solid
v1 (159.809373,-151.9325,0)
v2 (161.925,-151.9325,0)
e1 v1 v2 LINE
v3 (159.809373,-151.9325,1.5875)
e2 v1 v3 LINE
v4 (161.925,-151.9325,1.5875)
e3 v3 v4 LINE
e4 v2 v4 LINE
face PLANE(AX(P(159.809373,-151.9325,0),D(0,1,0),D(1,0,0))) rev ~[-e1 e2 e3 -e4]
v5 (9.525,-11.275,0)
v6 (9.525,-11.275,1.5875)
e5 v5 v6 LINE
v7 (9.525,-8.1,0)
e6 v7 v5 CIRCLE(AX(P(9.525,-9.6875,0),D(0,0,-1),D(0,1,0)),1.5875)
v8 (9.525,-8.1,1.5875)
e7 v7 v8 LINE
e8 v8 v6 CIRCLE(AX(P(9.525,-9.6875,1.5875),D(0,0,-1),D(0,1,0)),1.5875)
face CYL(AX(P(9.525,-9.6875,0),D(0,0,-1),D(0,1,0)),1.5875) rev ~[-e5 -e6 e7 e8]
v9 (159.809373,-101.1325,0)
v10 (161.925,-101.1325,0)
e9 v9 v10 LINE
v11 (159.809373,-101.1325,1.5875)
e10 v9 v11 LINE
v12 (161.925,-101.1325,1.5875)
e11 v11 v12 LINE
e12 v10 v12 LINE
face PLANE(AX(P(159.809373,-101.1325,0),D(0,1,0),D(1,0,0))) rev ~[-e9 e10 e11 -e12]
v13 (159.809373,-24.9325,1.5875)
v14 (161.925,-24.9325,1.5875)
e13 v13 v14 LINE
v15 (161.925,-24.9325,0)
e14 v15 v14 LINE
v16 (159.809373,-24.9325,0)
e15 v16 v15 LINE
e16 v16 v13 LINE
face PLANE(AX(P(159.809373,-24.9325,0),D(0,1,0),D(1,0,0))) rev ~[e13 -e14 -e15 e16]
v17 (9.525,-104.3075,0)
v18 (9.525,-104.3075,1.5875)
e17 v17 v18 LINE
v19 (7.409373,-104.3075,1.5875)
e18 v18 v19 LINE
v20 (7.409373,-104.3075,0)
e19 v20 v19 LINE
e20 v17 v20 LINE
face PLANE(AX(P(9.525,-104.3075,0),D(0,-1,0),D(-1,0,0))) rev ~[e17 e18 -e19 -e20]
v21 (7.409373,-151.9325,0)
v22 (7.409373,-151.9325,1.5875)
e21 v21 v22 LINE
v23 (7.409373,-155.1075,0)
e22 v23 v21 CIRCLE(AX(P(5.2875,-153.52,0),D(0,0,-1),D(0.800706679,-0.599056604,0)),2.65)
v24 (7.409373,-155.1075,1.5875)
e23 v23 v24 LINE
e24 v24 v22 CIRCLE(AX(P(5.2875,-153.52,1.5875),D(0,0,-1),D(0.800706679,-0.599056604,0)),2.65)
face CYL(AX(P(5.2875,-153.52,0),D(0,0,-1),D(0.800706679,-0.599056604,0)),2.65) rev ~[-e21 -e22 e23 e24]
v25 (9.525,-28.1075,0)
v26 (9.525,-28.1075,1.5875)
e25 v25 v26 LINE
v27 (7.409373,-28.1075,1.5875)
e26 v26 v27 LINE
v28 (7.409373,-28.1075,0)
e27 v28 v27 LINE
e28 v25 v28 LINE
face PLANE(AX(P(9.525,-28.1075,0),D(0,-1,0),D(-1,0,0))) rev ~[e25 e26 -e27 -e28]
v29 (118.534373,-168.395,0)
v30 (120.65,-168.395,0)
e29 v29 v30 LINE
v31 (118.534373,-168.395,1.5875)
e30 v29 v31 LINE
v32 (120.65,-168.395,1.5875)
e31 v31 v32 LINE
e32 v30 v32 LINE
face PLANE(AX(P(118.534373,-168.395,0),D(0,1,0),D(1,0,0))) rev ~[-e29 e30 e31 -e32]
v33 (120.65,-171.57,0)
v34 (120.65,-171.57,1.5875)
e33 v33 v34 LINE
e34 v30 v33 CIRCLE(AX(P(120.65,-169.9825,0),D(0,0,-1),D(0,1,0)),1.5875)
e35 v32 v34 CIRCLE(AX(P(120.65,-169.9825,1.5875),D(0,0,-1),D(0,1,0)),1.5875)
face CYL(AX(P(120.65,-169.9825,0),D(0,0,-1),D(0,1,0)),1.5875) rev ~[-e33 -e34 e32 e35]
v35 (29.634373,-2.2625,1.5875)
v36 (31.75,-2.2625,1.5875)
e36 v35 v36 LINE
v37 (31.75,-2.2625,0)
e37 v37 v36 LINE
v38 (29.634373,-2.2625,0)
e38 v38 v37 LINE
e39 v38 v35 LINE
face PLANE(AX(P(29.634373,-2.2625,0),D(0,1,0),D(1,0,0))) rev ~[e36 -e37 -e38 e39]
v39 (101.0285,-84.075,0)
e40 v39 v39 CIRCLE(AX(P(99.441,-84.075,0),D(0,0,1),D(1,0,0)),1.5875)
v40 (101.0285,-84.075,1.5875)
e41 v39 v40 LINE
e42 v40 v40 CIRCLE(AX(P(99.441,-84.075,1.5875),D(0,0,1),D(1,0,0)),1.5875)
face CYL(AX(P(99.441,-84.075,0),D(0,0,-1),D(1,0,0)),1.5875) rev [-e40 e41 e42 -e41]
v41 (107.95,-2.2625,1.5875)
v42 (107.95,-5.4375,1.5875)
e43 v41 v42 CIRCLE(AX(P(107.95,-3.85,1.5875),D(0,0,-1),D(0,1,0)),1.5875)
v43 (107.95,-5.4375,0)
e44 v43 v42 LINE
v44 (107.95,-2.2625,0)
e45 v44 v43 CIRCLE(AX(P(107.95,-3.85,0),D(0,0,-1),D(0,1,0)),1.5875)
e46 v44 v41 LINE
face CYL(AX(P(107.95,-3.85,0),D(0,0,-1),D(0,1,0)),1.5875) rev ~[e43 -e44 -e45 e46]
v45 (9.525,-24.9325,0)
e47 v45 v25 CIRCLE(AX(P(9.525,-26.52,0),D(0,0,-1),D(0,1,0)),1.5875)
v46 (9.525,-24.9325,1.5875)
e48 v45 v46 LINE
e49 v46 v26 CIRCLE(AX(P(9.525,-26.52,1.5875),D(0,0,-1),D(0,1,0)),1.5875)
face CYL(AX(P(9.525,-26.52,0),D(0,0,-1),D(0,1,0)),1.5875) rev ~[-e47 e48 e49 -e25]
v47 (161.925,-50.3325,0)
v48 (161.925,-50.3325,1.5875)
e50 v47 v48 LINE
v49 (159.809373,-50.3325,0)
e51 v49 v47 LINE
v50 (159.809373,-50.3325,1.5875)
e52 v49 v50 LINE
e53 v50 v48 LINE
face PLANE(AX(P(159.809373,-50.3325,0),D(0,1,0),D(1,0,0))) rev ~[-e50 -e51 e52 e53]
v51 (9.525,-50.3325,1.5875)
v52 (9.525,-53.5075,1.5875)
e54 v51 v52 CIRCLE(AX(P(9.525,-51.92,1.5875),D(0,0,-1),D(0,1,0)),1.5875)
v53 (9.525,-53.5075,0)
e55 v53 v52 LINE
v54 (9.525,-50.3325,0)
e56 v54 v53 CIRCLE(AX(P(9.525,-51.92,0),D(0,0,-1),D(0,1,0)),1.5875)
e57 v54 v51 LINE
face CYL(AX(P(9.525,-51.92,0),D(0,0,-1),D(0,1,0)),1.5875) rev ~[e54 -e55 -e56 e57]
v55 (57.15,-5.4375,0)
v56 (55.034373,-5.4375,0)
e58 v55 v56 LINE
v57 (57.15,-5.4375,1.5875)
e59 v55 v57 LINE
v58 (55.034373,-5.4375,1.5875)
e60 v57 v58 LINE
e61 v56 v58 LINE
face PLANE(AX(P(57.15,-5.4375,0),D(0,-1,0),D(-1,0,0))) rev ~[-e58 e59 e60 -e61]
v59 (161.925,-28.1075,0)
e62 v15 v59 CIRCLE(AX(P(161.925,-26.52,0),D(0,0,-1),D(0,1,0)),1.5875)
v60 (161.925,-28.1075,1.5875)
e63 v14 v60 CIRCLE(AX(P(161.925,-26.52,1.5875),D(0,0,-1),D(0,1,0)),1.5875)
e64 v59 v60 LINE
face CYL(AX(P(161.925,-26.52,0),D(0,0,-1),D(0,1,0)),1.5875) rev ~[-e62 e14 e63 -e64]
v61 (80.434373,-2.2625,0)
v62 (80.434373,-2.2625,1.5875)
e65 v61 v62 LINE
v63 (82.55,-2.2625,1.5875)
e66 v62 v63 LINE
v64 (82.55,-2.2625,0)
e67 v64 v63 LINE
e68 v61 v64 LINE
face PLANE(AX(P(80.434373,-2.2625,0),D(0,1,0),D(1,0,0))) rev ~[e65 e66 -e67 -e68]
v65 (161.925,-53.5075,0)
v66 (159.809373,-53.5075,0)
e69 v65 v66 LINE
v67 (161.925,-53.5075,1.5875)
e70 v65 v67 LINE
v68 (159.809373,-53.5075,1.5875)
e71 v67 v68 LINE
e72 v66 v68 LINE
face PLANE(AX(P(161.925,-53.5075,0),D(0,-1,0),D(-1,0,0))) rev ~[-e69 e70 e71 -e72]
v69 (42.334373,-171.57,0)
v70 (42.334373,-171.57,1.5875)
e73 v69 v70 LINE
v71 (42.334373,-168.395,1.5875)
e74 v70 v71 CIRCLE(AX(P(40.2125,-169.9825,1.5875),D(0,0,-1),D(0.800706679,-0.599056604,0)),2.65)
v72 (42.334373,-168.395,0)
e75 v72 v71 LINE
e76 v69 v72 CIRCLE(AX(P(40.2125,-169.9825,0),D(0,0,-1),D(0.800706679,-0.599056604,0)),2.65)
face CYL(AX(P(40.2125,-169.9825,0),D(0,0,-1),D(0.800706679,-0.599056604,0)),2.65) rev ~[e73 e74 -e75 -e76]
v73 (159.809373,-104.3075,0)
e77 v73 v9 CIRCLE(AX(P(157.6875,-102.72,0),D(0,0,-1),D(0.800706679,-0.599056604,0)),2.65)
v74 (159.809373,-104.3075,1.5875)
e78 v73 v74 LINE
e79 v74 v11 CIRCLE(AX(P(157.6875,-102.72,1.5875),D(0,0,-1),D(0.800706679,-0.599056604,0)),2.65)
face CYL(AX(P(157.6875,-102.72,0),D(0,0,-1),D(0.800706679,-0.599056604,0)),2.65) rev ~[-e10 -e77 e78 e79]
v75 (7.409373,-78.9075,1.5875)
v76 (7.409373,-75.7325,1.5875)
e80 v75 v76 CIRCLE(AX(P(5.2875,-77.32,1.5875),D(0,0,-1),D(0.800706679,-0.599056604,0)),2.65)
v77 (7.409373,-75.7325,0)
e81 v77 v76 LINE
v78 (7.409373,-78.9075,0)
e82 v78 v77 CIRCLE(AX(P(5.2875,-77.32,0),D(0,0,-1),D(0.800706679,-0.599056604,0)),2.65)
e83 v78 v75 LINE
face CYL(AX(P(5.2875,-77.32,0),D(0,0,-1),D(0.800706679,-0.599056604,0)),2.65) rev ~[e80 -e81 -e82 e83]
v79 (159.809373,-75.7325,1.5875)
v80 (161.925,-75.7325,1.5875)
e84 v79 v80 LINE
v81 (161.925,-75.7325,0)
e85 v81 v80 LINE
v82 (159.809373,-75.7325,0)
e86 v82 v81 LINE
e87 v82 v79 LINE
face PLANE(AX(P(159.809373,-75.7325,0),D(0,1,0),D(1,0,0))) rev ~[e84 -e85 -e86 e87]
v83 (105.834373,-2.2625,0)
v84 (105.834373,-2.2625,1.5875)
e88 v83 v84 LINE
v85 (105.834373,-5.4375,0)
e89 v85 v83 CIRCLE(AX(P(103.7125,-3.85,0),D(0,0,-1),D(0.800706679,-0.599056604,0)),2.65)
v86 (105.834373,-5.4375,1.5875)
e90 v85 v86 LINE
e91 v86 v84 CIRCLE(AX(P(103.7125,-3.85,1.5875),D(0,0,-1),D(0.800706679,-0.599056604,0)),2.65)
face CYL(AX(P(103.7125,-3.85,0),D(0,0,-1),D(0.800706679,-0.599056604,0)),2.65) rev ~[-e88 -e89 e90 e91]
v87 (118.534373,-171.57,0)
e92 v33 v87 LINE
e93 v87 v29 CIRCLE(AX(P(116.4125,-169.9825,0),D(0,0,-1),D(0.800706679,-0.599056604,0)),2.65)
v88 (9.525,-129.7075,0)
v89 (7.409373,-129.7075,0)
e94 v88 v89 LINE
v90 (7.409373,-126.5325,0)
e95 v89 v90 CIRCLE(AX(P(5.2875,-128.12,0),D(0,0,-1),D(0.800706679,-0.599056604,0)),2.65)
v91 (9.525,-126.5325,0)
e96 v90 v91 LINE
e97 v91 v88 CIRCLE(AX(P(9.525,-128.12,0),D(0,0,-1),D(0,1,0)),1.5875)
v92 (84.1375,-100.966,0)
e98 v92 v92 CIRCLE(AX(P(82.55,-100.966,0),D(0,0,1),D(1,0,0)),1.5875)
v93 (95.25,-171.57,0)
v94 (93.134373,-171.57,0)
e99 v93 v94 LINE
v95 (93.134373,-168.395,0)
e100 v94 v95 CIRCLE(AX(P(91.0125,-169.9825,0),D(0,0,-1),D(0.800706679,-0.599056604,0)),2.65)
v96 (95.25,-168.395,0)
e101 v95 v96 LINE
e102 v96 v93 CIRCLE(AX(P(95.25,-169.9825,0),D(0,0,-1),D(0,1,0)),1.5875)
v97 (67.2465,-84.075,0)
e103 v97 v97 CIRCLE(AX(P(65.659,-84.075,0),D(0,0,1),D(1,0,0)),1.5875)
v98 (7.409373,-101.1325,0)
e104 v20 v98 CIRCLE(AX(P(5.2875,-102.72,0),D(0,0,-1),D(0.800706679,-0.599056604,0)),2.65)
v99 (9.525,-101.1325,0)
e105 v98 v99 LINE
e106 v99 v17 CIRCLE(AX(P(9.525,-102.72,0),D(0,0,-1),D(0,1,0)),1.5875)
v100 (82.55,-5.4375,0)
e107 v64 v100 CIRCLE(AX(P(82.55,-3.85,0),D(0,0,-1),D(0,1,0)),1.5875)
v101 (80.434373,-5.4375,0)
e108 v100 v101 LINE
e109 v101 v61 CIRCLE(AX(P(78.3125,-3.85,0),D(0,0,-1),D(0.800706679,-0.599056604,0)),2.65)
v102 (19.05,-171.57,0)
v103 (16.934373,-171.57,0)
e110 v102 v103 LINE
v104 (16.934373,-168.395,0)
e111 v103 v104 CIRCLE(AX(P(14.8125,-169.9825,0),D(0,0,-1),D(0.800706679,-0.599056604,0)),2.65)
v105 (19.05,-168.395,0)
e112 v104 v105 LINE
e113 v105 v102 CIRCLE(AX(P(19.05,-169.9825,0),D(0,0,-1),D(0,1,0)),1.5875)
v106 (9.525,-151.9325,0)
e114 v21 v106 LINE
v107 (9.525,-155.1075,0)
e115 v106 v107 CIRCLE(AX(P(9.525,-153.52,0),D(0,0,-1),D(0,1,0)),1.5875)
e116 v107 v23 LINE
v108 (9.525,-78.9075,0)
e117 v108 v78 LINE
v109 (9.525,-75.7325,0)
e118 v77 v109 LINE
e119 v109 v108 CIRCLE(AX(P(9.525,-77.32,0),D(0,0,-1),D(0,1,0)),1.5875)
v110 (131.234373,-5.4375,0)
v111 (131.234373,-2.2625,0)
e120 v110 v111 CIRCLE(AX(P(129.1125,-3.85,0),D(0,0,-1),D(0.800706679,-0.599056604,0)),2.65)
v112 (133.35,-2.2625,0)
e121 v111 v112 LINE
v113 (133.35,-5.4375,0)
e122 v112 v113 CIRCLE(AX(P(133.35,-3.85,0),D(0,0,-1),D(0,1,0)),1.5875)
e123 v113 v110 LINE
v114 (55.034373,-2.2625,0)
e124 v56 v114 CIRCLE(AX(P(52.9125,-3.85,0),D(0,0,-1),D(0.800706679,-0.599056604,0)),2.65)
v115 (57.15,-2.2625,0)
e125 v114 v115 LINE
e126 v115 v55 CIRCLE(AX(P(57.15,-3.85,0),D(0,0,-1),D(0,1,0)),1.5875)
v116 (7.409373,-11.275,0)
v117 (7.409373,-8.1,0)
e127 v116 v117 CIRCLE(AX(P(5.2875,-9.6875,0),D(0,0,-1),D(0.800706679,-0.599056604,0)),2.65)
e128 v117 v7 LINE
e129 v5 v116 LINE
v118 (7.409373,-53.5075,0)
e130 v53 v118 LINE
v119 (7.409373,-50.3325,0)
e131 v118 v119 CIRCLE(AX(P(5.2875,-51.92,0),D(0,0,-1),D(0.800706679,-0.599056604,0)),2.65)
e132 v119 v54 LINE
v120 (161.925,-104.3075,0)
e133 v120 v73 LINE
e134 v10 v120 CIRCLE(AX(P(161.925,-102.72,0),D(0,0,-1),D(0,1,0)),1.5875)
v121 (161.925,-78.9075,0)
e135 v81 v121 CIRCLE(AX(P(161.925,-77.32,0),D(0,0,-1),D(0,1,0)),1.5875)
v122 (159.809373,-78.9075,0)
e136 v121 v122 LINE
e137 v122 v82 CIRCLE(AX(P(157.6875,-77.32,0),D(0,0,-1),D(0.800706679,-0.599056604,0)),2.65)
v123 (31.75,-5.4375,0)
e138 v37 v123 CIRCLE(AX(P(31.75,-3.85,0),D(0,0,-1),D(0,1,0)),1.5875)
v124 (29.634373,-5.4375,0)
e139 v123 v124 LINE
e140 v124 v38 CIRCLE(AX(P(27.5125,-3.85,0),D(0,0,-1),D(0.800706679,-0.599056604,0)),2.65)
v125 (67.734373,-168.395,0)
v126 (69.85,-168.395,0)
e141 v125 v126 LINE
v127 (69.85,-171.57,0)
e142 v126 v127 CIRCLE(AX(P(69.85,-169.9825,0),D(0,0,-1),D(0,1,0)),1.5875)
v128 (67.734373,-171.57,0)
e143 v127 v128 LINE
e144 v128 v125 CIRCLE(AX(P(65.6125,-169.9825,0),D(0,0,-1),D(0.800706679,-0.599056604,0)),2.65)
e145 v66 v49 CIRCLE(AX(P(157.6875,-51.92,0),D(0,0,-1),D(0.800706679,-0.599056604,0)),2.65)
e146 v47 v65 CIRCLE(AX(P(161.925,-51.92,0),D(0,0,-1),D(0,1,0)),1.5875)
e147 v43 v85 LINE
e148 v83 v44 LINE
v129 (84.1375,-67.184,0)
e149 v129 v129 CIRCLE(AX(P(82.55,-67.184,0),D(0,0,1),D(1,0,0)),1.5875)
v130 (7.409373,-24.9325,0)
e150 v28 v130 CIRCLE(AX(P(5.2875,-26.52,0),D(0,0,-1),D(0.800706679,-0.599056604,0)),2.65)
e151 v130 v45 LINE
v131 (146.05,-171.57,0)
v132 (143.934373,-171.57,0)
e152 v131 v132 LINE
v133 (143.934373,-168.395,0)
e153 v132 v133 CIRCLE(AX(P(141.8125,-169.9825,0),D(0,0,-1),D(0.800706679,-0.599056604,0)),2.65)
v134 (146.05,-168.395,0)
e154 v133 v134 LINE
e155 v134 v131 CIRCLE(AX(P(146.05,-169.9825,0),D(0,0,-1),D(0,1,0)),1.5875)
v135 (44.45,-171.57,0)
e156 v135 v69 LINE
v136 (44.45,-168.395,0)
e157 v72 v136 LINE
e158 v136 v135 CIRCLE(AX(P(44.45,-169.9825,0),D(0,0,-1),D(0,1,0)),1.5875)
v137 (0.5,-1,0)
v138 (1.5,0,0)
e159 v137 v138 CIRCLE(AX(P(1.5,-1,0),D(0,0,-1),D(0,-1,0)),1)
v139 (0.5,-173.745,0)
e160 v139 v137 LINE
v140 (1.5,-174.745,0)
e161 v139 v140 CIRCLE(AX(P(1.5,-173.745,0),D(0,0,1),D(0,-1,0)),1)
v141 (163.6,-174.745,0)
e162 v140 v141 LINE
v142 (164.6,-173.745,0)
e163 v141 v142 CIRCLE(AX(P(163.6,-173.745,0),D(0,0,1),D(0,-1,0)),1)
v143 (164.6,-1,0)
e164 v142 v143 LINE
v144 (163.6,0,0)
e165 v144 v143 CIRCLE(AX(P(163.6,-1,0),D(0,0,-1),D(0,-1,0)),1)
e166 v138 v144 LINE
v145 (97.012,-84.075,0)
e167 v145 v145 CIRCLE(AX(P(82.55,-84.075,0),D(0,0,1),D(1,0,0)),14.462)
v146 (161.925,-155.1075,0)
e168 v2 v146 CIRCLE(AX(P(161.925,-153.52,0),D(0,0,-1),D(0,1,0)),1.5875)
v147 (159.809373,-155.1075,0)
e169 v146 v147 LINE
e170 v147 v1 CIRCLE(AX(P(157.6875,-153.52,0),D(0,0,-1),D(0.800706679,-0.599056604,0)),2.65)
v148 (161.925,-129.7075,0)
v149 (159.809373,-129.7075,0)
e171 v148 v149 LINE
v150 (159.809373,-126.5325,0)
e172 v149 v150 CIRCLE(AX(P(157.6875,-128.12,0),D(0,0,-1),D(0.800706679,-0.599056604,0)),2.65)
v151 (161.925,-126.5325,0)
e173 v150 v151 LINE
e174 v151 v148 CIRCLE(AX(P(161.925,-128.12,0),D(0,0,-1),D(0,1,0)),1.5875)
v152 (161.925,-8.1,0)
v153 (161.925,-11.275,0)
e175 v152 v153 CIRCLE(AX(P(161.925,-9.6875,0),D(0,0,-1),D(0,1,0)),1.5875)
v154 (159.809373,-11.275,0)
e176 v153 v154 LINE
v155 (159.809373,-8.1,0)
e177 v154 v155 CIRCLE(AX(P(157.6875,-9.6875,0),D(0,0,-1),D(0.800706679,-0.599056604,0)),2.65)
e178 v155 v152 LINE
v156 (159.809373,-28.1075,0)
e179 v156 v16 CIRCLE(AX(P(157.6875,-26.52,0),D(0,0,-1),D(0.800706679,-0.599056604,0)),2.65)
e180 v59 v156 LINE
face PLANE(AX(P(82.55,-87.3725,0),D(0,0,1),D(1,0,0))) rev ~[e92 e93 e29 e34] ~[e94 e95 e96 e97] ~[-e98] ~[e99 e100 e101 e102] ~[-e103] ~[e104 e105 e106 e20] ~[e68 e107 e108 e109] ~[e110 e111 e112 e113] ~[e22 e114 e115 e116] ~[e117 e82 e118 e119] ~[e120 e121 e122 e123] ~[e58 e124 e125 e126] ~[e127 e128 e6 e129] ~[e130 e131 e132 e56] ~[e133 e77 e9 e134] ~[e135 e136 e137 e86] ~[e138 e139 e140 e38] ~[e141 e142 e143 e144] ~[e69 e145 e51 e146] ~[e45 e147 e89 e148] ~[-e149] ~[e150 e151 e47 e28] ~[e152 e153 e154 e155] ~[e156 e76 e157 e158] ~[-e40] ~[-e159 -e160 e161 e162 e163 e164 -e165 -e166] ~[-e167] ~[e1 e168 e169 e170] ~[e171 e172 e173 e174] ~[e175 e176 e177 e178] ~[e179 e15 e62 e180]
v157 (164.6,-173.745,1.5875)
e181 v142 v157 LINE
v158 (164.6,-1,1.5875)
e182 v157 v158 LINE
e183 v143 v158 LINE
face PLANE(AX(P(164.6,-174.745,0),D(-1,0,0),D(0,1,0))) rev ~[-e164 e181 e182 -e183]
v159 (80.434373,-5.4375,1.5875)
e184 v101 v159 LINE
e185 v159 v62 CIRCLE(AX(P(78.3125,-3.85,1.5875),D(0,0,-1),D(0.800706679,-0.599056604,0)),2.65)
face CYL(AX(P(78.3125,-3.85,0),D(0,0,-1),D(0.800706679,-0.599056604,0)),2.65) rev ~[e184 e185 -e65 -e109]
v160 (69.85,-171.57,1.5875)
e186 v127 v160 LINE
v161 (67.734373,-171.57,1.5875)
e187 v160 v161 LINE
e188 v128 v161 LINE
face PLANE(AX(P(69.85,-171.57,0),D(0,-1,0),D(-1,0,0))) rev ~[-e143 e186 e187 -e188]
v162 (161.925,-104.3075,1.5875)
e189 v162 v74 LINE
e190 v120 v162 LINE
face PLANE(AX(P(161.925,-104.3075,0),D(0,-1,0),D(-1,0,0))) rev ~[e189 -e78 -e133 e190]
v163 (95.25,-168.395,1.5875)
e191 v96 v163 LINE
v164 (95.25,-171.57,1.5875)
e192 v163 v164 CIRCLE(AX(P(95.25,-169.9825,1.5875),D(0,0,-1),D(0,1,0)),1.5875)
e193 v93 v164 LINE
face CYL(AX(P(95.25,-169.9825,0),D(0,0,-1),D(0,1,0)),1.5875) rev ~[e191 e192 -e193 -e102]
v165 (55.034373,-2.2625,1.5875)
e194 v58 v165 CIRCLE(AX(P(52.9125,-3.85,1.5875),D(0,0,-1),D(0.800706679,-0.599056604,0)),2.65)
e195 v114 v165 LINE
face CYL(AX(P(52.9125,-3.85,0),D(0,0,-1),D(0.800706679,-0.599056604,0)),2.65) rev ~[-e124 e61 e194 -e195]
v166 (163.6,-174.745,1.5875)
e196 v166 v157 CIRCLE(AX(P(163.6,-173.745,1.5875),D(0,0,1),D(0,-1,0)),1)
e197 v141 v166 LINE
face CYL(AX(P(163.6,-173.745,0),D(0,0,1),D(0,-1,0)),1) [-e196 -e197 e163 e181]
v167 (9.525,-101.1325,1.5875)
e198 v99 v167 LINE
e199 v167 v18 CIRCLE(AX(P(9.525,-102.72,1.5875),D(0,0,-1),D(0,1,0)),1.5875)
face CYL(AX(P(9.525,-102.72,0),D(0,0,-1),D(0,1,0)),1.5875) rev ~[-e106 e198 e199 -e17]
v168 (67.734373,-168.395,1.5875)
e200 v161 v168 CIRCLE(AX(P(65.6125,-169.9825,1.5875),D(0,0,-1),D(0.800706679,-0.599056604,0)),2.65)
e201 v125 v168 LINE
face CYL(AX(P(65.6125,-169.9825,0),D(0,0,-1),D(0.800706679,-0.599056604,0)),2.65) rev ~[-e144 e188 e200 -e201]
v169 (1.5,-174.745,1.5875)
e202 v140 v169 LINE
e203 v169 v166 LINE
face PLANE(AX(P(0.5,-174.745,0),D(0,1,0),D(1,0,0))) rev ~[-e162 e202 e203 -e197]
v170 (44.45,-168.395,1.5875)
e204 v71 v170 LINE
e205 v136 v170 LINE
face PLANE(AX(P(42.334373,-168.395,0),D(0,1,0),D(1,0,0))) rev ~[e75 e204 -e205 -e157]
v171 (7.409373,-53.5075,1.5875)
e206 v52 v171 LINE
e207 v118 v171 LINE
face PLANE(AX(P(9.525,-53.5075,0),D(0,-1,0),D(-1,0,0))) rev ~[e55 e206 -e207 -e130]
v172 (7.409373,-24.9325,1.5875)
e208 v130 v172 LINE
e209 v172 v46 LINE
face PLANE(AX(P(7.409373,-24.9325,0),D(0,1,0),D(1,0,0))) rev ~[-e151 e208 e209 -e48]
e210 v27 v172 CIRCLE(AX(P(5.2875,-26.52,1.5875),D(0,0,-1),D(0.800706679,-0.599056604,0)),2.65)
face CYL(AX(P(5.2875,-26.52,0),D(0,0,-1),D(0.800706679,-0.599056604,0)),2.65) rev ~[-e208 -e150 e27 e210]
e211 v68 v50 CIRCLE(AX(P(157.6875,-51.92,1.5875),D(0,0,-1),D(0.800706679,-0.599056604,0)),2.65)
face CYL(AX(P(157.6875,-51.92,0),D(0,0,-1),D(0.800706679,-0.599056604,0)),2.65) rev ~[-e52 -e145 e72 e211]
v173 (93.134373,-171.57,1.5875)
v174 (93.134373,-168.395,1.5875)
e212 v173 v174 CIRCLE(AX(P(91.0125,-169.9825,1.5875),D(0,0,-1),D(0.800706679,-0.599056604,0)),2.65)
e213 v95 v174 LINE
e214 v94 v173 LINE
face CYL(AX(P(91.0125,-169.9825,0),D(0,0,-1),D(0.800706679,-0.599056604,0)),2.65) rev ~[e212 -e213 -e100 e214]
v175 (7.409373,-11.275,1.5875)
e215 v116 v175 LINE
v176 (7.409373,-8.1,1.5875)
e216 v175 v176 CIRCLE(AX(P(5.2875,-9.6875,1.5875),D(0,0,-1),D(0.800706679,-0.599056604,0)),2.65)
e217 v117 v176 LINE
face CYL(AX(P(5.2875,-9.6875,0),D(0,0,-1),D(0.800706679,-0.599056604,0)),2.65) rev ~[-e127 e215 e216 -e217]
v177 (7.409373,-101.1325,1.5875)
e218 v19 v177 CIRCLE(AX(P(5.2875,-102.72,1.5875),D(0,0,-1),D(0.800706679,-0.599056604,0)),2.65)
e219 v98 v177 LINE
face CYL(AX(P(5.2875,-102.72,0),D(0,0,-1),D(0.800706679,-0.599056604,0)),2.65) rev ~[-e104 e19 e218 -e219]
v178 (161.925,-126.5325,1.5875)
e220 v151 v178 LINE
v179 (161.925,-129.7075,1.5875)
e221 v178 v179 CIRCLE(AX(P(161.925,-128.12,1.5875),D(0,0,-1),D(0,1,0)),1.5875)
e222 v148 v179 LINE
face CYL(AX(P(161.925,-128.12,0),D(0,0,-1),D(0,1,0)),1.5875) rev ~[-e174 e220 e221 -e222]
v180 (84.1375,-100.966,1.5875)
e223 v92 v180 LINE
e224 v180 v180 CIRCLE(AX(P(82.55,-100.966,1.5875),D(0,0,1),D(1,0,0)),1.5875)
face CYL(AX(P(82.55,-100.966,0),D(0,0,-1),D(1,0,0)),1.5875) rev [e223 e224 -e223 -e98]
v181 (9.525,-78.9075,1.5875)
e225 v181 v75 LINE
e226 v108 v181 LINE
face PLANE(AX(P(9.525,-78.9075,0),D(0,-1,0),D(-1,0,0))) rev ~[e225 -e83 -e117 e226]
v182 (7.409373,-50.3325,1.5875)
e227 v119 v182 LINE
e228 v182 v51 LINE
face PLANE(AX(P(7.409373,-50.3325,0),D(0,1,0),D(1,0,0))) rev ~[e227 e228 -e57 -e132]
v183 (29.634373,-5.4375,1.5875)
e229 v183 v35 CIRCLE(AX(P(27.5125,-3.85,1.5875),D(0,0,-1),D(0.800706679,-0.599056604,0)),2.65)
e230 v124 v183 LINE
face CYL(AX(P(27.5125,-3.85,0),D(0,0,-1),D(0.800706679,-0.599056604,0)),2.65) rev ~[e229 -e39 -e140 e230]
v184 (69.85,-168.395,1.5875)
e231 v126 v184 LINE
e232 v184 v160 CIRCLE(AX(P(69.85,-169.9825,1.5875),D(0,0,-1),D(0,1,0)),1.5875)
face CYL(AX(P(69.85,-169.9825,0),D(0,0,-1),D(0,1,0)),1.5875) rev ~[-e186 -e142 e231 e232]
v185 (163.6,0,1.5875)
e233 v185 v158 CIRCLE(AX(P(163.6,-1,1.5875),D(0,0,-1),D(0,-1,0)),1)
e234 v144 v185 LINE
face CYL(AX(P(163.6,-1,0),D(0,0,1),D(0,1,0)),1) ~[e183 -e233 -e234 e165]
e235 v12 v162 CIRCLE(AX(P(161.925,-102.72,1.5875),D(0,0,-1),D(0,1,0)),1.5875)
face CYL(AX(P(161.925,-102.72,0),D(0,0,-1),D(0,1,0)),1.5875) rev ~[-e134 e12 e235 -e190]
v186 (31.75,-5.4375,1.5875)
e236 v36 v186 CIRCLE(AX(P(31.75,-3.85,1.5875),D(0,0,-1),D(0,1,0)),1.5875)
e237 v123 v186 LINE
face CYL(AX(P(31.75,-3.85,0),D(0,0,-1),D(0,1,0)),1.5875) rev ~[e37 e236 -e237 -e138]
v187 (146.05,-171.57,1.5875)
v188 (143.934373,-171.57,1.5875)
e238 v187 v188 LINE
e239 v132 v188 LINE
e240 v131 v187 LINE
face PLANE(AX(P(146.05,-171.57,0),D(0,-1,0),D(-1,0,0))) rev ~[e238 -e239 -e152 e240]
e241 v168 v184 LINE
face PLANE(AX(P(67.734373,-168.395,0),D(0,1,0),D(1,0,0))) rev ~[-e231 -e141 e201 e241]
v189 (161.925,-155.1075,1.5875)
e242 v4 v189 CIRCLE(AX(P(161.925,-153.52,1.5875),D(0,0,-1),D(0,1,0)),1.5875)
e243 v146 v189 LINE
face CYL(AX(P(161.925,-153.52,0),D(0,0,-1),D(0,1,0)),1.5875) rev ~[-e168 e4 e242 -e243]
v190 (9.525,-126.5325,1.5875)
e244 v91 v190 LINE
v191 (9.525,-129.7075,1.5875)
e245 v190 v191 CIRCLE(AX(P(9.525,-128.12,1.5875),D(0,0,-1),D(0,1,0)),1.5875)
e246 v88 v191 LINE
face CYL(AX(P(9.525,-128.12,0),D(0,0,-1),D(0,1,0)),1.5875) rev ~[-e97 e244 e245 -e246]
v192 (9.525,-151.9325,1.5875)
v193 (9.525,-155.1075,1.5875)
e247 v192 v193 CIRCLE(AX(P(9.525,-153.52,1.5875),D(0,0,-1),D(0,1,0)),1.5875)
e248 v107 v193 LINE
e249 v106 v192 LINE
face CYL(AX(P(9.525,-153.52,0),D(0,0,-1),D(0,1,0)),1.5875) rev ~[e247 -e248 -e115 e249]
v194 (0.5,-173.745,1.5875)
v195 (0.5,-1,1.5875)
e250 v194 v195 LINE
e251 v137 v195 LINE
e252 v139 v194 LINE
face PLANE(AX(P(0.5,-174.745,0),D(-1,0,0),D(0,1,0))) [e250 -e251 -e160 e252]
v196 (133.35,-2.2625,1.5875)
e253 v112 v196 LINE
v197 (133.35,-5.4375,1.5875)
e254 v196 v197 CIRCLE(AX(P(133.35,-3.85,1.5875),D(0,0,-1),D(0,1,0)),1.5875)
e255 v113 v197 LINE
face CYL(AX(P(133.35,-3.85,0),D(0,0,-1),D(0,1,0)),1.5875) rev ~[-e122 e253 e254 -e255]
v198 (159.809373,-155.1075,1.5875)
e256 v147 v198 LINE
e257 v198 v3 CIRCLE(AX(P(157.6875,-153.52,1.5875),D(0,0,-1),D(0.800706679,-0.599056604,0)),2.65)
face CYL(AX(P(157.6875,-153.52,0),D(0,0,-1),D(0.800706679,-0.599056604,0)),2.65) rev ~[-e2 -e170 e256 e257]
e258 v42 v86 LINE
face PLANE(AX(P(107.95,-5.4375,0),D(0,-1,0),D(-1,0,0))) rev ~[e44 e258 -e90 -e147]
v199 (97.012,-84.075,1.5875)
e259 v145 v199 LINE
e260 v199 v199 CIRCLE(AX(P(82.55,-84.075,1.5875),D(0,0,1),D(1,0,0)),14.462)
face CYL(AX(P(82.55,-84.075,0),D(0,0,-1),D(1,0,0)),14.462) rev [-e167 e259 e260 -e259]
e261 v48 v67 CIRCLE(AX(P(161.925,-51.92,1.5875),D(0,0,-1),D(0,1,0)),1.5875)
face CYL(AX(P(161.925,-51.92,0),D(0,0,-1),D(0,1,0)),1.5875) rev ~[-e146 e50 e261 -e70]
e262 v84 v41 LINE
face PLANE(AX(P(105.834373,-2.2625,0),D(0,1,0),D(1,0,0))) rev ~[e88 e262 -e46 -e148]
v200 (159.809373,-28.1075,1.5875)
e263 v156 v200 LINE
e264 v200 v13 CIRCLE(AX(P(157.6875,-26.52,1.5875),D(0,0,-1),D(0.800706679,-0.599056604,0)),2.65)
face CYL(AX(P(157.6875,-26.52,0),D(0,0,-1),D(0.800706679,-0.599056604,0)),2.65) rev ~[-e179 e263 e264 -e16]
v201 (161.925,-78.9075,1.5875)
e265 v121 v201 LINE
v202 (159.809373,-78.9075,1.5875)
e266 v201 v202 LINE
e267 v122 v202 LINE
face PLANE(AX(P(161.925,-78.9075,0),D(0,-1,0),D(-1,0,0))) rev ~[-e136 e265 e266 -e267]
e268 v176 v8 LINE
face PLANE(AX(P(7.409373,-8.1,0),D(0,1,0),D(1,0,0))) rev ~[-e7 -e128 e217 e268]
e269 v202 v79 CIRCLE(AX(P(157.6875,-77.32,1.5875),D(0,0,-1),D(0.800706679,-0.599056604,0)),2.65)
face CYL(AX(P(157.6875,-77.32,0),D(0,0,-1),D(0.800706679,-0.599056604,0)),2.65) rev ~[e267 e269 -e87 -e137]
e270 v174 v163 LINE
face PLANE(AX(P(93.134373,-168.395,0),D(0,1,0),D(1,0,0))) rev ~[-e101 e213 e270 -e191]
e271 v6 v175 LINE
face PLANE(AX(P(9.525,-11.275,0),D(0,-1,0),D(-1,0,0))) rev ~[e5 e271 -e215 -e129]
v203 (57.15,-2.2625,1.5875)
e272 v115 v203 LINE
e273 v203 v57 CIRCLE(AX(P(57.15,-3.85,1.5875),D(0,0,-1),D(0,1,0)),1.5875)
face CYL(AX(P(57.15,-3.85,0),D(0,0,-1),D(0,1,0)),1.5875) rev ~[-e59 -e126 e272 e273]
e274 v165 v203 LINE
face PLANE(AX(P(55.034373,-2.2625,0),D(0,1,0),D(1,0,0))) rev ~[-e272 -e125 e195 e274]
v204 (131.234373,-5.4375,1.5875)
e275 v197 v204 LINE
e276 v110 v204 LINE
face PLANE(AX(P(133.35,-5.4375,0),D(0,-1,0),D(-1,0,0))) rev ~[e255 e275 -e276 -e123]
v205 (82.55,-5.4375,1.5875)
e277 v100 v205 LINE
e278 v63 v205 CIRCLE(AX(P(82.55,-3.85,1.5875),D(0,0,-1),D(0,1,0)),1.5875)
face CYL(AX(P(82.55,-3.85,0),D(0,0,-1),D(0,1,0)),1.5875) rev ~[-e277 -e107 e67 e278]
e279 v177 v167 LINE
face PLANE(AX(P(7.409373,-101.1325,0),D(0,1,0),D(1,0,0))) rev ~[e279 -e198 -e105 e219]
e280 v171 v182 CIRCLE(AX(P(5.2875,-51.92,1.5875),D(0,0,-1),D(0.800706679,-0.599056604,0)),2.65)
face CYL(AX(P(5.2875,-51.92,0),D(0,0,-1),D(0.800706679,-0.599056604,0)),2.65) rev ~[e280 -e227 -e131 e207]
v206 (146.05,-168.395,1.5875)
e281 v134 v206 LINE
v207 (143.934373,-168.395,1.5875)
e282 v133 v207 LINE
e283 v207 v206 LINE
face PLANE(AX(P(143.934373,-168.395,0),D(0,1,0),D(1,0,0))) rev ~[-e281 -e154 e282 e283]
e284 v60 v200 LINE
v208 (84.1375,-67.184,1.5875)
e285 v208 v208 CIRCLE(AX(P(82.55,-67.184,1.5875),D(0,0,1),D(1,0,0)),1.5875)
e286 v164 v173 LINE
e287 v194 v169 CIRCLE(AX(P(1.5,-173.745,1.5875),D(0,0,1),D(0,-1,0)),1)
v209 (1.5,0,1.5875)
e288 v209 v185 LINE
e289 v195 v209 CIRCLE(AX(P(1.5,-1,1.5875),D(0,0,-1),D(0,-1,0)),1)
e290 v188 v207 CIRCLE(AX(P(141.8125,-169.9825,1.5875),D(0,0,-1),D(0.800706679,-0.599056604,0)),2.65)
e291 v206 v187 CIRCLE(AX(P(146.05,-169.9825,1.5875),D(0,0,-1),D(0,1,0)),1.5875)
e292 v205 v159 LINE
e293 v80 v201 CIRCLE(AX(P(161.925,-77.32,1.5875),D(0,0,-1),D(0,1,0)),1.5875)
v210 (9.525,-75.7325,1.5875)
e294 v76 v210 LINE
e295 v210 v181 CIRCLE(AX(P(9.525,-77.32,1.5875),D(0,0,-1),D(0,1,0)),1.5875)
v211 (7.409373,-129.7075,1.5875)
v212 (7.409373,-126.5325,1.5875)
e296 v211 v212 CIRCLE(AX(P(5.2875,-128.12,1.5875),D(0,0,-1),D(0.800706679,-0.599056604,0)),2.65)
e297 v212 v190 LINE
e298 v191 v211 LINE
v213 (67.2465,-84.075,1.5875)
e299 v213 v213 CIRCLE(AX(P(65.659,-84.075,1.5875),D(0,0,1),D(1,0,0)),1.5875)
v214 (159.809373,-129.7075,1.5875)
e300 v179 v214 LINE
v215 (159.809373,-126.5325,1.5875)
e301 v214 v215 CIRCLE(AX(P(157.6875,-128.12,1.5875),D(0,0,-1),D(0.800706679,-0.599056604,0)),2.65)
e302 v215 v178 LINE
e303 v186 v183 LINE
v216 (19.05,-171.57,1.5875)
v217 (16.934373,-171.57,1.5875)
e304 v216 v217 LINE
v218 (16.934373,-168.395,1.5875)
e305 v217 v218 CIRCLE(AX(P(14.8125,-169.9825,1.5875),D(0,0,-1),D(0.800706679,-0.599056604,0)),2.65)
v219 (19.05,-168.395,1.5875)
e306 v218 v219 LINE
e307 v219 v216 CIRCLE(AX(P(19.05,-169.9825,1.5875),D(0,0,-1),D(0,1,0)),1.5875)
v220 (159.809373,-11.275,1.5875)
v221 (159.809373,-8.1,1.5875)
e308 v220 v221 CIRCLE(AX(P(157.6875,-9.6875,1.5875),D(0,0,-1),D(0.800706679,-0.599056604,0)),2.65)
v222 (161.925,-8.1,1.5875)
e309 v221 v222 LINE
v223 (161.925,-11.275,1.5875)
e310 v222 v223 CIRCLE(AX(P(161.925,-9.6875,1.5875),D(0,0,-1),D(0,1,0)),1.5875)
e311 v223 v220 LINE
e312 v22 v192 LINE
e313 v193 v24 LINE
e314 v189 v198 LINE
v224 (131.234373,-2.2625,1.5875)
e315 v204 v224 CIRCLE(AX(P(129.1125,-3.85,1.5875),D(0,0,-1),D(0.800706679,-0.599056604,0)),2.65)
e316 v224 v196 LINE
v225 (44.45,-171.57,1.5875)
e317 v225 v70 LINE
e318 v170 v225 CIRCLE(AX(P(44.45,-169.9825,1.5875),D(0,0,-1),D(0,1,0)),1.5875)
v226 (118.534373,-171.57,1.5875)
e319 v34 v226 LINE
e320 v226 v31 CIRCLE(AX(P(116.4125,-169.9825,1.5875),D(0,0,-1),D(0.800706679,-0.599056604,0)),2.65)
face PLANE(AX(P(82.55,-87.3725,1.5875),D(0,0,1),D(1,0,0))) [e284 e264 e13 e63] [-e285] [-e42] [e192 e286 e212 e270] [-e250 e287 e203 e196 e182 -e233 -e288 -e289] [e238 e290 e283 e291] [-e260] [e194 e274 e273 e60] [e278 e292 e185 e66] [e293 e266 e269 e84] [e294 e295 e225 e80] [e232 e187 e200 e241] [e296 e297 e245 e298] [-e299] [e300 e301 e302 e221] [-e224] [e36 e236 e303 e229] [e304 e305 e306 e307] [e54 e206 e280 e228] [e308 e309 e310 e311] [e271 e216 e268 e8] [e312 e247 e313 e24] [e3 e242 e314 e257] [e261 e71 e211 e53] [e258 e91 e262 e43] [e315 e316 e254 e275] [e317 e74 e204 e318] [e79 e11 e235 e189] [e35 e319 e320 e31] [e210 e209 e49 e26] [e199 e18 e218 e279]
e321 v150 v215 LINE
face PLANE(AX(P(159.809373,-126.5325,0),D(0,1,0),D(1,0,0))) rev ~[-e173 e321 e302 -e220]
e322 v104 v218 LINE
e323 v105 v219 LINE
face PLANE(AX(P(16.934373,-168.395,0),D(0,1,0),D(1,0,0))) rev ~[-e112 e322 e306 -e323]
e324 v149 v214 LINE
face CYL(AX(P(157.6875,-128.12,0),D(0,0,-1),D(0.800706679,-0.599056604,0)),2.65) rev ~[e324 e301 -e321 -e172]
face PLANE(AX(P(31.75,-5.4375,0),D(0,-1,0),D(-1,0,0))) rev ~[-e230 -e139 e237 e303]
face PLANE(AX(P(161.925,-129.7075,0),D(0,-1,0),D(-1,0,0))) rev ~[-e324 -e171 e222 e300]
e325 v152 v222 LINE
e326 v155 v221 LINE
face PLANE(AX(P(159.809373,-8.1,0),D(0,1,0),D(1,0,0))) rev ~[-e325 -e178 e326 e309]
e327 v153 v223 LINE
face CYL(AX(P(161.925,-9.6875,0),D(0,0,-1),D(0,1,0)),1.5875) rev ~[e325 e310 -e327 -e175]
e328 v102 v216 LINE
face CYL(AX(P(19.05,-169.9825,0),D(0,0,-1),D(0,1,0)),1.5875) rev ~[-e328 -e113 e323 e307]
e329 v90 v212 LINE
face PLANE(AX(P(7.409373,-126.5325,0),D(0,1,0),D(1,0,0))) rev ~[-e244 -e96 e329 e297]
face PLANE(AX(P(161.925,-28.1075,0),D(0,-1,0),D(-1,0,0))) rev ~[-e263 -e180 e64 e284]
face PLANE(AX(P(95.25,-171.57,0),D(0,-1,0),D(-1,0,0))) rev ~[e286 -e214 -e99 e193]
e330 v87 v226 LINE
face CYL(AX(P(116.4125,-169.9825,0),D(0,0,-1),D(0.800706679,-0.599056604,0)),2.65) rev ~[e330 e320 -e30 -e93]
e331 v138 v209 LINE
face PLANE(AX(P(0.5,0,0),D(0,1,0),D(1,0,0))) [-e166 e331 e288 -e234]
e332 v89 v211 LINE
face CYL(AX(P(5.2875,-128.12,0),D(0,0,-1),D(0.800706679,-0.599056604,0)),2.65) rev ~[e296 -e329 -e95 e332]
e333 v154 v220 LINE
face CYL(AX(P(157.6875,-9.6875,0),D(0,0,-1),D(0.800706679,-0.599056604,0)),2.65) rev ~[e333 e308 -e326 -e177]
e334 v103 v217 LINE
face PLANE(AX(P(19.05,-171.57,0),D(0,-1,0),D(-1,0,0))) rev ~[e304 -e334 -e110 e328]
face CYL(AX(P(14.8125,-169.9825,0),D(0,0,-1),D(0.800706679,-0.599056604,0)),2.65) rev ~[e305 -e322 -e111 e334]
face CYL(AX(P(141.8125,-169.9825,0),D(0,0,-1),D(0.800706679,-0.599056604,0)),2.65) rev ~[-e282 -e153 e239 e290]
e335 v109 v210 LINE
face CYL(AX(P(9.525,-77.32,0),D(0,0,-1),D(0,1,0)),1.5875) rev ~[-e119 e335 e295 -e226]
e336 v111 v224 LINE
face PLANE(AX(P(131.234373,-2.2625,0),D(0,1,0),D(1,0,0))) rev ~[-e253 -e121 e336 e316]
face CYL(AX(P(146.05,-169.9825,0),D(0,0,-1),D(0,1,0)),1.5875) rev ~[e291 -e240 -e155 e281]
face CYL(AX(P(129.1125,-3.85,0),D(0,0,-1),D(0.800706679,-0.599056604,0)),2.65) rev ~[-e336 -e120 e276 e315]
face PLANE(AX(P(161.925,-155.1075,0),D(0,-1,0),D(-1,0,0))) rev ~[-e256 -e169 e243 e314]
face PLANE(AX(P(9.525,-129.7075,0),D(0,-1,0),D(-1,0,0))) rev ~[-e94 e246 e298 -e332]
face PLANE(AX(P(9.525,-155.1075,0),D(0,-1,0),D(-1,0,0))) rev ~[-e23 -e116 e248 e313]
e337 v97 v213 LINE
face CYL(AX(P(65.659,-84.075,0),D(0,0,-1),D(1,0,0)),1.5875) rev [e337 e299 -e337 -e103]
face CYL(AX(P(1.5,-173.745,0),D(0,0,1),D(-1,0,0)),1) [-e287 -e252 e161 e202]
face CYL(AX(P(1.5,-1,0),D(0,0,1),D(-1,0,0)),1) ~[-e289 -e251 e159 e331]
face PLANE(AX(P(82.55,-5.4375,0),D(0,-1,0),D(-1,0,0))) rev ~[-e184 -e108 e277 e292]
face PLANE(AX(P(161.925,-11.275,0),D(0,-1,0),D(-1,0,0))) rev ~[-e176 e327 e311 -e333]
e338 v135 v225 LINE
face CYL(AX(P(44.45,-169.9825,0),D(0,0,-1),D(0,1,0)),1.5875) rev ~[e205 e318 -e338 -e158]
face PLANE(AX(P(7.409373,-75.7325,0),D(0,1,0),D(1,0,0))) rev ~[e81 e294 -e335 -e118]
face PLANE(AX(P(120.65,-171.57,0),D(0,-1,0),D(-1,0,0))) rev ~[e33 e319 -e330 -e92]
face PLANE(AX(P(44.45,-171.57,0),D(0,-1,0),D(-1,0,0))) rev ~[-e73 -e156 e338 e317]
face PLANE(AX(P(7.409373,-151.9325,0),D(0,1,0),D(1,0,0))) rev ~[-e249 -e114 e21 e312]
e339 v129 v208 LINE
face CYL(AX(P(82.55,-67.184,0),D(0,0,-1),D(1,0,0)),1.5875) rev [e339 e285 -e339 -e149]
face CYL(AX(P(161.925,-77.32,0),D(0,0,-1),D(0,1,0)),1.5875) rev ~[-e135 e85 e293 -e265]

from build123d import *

# Parameters (mm, degrees)
SKETCH1_W           = 164.1
SKETCH1_H           = 174.745
SKETCH1_R           = 1.5875
SKETCH1_R_2         = 14.462
BOSS_EXTRUDE1_DEPTH = 1.5875
FILLET1_R           = 1


with BuildPart() as part:
    # Sketch1 → Boss-Extrude1 (new body)
    with BuildSketch(Plane.XY):
        with Locations((82.55, -87.3725)):
            Rectangle(SKETCH1_W, SKETCH1_H)
        with BuildLine():
            Line((16.934372699, -168.395), (19.05, -168.395))
            ThreePointArc((19.05, -168.395), (20.6375, -169.9825), (19.05, -171.57))
            Line((19.05, -171.57), (16.934372699, -171.57))
            ThreePointArc((16.934372699, -171.57), (12.1625, -169.9825), (16.934372699, -168.395))
        make_face(mode=Mode.SUBTRACT)
        with BuildLine():
            Line((7.409372699, -151.9325), (9.525, -151.9325))
            ThreePointArc((9.525, -151.9325), (11.1125, -153.52), (9.525, -155.1075))
            Line((9.525, -155.1075), (7.409372699, -155.1075))
            ThreePointArc((7.409372699, -155.1075), (2.6375, -153.52), (7.409372699, -151.9325))
        make_face(mode=Mode.SUBTRACT)
        with BuildLine():
            Line((42.334372699, -168.395), (44.45, -168.395))
            ThreePointArc((44.45, -168.395), (46.0375, -169.9825), (44.45, -171.57))
            Line((44.45, -171.57), (42.334372699, -171.57))
            ThreePointArc((42.334372699, -171.57), (37.5625, -169.9825), (42.334372699, -168.395))
        make_face(mode=Mode.SUBTRACT)
        with BuildLine():
            Line((67.734372699, -168.395), (69.85, -168.395))
            ThreePointArc((69.85, -168.395), (71.4375, -169.9825), (69.85, -171.57))
            Line((69.85, -171.57), (67.734372699, -171.57))
            ThreePointArc((67.734372699, -171.57), (62.9625, -169.9825), (67.734372699, -168.395))
        make_face(mode=Mode.SUBTRACT)
        with BuildLine():
            Line((7.409372699, -126.5325), (9.525, -126.5325))
            ThreePointArc((9.525, -126.5325), (11.1125, -128.12), (9.525, -129.7075))
            Line((9.525, -129.7075), (7.409372699, -129.7075))
            ThreePointArc((7.409372699, -129.7075), (2.6375, -128.12), (7.409372699, -126.5325))
        make_face(mode=Mode.SUBTRACT)
        with BuildLine():
            Line((7.409372699, -101.1325), (9.525, -101.1325))
            ThreePointArc((9.525, -101.1325), (11.1125, -102.72), (9.525, -104.3075))
            Line((9.525, -104.3075), (7.409372699, -104.3075))
            ThreePointArc((7.409372699, -104.3075), (2.6375, -102.72), (7.409372699, -101.1325))
        make_face(mode=Mode.SUBTRACT)
        with BuildLine():
            Line((93.134372699, -168.395), (95.25, -168.395))
            ThreePointArc((95.25, -168.395), (96.8375, -169.9825), (95.25, -171.57))
            Line((95.25, -171.57), (93.134372699, -171.57))
            ThreePointArc((93.134372699, -171.57), (88.3625, -169.9825), (93.134372699, -168.395))
        make_face(mode=Mode.SUBTRACT)
        with BuildLine():
            Line((118.534372699, -168.395), (120.65, -168.395))
            ThreePointArc((120.65, -168.395), (122.2375, -169.9825), (120.65, -171.57))
            Line((120.65, -171.57), (118.534372699, -171.57))
            ThreePointArc((118.534372699, -171.57), (113.7625, -169.9825), (118.534372699, -168.395))
        make_face(mode=Mode.SUBTRACT)
        with BuildLine():
            Line((143.934372699, -168.395), (146.05, -168.395))
            ThreePointArc((146.05, -168.395), (147.6375, -169.9825), (146.05, -171.57))
            Line((146.05, -171.57), (143.934372699, -171.57))
            ThreePointArc((143.934372699, -171.57), (139.1625, -169.9825), (143.934372699, -168.395))
        make_face(mode=Mode.SUBTRACT)
        with BuildLine():
            Line((159.809372699, -151.9325), (161.925, -151.9325))
            ThreePointArc((161.925, -151.9325), (163.5125, -153.52), (161.925, -155.1075))
            Line((161.925, -155.1075), (159.809372699, -155.1075))
            ThreePointArc((159.809372699, -155.1075), (155.0375, -153.52), (159.809372699, -151.9325))
        make_face(mode=Mode.SUBTRACT)
        with Locations((82.55, -100.966)):
            Circle(SKETCH1_R, mode=Mode.SUBTRACT)
        with BuildLine():
            Line((159.809372699, -126.5325), (161.925, -126.5325))
            ThreePointArc((161.925, -126.5325), (163.5125, -128.12), (161.925, -129.7075))
            Line((161.925, -129.7075), (159.809372699, -129.7075))
            ThreePointArc((159.809372699, -129.7075), (155.0375, -128.12), (159.809372699, -126.5325))
        make_face(mode=Mode.SUBTRACT)
        with BuildLine():
            Line((159.809372699, -101.1325), (161.925, -101.1325))
            ThreePointArc((161.925, -101.1325), (163.5125, -102.72), (161.925, -104.3075))
            Line((161.925, -104.3075), (159.809372699, -104.3075))
            ThreePointArc((159.809372699, -104.3075), (155.0375, -102.72), (159.809372699, -101.1325))
        make_face(mode=Mode.SUBTRACT)
        with BuildLine():
            Line((7.409372699, -75.7325), (9.525, -75.7325))
            ThreePointArc((9.525, -75.7325), (11.1125, -77.32), (9.525, -78.9075))
            Line((9.525, -78.9075), (7.409372699, -78.9075))
            ThreePointArc((7.409372699, -78.9075), (2.6375, -77.32), (7.409372699, -75.7325))
        make_face(mode=Mode.SUBTRACT)
        with BuildLine():
            Line((7.409372699, -50.3325), (9.525, -50.3325))
            ThreePointArc((9.525, -50.3325), (11.1125, -51.92), (9.525, -53.5075))
            Line((9.525, -53.5075), (7.409372699, -53.5075))
            ThreePointArc((7.409372699, -53.5075), (2.6375, -51.92), (7.409372699, -50.3325))
        make_face(mode=Mode.SUBTRACT)
        with Locations((65.659, -84.075)):
            Circle(SKETCH1_R, mode=Mode.SUBTRACT)
        with BuildLine():
            Line((7.409372699, -24.9325), (9.525, -24.9325))
            ThreePointArc((9.525, -24.9325), (11.1125, -26.52), (9.525, -28.1075))
            Line((9.525, -28.1075), (7.409372699, -28.1075))
            ThreePointArc((7.409372699, -28.1075), (2.6375, -26.52), (7.409372699, -24.9325))
        make_face(mode=Mode.SUBTRACT)
        with BuildLine():
            Line((7.409372699, -8.1), (9.525, -8.1))
            ThreePointArc((9.525, -8.1), (11.1125, -9.6875), (9.525, -11.275))
            Line((9.525, -11.275), (7.409372699, -11.275))
            ThreePointArc((7.409372699, -11.275), (2.6375, -9.6875), (7.409372699, -8.1))
        make_face(mode=Mode.SUBTRACT)
        with BuildLine():
            Line((29.634372699, -2.2625), (31.75, -2.2625))
            ThreePointArc((31.75, -2.2625), (33.3375, -3.85), (31.75, -5.4375))
            Line((31.75, -5.4375), (29.634372699, -5.4375))
            ThreePointArc((29.634372699, -5.4375), (24.8625, -3.85), (29.634372699, -2.2625))
        make_face(mode=Mode.SUBTRACT)
        with BuildLine():
            Line((55.034372699, -2.2625), (57.15, -2.2625))
            ThreePointArc((57.15, -2.2625), (58.7375, -3.85), (57.15, -5.4375))
            Line((57.15, -5.4375), (55.034372699, -5.4375))
            ThreePointArc((55.034372699, -5.4375), (50.2625, -3.85), (55.034372699, -2.2625))
        make_face(mode=Mode.SUBTRACT)
        with BuildLine():
            Line((80.434372699, -2.2625), (82.55, -2.2625))
            ThreePointArc((82.55, -2.2625), (84.1375, -3.85), (82.55, -5.4375))
            Line((82.55, -5.4375), (80.434372699, -5.4375))
            ThreePointArc((80.434372699, -5.4375), (75.6625, -3.85), (80.434372699, -2.2625))
        make_face(mode=Mode.SUBTRACT)
        with Locations((82.55, -84.075)):
            Circle(SKETCH1_R_2, mode=Mode.SUBTRACT)
        with Locations((99.441, -84.075)):
            Circle(SKETCH1_R, mode=Mode.SUBTRACT)
        with Locations((82.55, -67.184)):
            Circle(SKETCH1_R, mode=Mode.SUBTRACT)
        with BuildLine():
            Line((159.809372699, -75.7325), (161.925, -75.7325))
            ThreePointArc((161.925, -75.7325), (163.5125, -77.32), (161.925, -78.9075))
            Line((161.925, -78.9075), (159.809372699, -78.9075))
            ThreePointArc((159.809372699, -78.9075), (155.0375, -77.32), (159.809372699, -75.7325))
        make_face(mode=Mode.SUBTRACT)
        with BuildLine():
            Line((159.809372699, -50.3325), (161.925, -50.3325))
            ThreePointArc((161.925, -50.3325), (163.5125, -51.92), (161.925, -53.5075))
            Line((161.925, -53.5075), (159.809372699, -53.5075))
            ThreePointArc((159.809372699, -53.5075), (155.0375, -51.92), (159.809372699, -50.3325))
        make_face(mode=Mode.SUBTRACT)
        with BuildLine():
            Line((105.834372699, -2.2625), (107.95, -2.2625))
            ThreePointArc((107.95, -2.2625), (109.5375, -3.85), (107.95, -5.4375))
            Line((107.95, -5.4375), (105.834372699, -5.4375))
            ThreePointArc((105.834372699, -5.4375), (101.0625, -3.85), (105.834372699, -2.2625))
        make_face(mode=Mode.SUBTRACT)
        with BuildLine():
            Line((159.809372699, -24.9325), (161.925, -24.9325))
            ThreePointArc((161.925, -24.9325), (163.5125, -26.52), (161.925, -28.1075))
            Line((161.925, -28.1075), (159.809372699, -28.1075))
            ThreePointArc((159.809372699, -28.1075), (155.0375, -26.52), (159.809372699, -24.9325))
        make_face(mode=Mode.SUBTRACT)
        with BuildLine():
            Line((131.234372699, -2.2625), (133.35, -2.2625))
            ThreePointArc((133.35, -2.2625), (134.9375, -3.85), (133.35, -5.4375))
            Line((133.35, -5.4375), (131.234372699, -5.4375))
            ThreePointArc((131.234372699, -5.4375), (126.4625, -3.85), (131.234372699, -2.2625))
        make_face(mode=Mode.SUBTRACT)
        with BuildLine():
            Line((159.809372699, -8.1), (161.925, -8.1))
            ThreePointArc((161.925, -8.1), (163.5125, -9.6875), (161.925, -11.275))
            Line((161.925, -11.275), (159.809372699, -11.275))
            ThreePointArc((159.809372699, -11.275), (155.0375, -9.6875), (159.809372699, -8.1))
        make_face(mode=Mode.SUBTRACT)
    extrude(amount=BOSS_EXTRUDE1_DEPTH)

    # Fillet1
    fillet1_edges = [part.edges().sort_by_distance(p)[0] for p in [
        (0.5, -174.745, 0.79375),
        (0.5, 0, 0.79375),
        (164.6, 0, 0.79375),
        (164.6, -174.745, 0.79375),
    ]]
    fillet(fillet1_edges, radius=FILLET1_R)


solid = part.part
